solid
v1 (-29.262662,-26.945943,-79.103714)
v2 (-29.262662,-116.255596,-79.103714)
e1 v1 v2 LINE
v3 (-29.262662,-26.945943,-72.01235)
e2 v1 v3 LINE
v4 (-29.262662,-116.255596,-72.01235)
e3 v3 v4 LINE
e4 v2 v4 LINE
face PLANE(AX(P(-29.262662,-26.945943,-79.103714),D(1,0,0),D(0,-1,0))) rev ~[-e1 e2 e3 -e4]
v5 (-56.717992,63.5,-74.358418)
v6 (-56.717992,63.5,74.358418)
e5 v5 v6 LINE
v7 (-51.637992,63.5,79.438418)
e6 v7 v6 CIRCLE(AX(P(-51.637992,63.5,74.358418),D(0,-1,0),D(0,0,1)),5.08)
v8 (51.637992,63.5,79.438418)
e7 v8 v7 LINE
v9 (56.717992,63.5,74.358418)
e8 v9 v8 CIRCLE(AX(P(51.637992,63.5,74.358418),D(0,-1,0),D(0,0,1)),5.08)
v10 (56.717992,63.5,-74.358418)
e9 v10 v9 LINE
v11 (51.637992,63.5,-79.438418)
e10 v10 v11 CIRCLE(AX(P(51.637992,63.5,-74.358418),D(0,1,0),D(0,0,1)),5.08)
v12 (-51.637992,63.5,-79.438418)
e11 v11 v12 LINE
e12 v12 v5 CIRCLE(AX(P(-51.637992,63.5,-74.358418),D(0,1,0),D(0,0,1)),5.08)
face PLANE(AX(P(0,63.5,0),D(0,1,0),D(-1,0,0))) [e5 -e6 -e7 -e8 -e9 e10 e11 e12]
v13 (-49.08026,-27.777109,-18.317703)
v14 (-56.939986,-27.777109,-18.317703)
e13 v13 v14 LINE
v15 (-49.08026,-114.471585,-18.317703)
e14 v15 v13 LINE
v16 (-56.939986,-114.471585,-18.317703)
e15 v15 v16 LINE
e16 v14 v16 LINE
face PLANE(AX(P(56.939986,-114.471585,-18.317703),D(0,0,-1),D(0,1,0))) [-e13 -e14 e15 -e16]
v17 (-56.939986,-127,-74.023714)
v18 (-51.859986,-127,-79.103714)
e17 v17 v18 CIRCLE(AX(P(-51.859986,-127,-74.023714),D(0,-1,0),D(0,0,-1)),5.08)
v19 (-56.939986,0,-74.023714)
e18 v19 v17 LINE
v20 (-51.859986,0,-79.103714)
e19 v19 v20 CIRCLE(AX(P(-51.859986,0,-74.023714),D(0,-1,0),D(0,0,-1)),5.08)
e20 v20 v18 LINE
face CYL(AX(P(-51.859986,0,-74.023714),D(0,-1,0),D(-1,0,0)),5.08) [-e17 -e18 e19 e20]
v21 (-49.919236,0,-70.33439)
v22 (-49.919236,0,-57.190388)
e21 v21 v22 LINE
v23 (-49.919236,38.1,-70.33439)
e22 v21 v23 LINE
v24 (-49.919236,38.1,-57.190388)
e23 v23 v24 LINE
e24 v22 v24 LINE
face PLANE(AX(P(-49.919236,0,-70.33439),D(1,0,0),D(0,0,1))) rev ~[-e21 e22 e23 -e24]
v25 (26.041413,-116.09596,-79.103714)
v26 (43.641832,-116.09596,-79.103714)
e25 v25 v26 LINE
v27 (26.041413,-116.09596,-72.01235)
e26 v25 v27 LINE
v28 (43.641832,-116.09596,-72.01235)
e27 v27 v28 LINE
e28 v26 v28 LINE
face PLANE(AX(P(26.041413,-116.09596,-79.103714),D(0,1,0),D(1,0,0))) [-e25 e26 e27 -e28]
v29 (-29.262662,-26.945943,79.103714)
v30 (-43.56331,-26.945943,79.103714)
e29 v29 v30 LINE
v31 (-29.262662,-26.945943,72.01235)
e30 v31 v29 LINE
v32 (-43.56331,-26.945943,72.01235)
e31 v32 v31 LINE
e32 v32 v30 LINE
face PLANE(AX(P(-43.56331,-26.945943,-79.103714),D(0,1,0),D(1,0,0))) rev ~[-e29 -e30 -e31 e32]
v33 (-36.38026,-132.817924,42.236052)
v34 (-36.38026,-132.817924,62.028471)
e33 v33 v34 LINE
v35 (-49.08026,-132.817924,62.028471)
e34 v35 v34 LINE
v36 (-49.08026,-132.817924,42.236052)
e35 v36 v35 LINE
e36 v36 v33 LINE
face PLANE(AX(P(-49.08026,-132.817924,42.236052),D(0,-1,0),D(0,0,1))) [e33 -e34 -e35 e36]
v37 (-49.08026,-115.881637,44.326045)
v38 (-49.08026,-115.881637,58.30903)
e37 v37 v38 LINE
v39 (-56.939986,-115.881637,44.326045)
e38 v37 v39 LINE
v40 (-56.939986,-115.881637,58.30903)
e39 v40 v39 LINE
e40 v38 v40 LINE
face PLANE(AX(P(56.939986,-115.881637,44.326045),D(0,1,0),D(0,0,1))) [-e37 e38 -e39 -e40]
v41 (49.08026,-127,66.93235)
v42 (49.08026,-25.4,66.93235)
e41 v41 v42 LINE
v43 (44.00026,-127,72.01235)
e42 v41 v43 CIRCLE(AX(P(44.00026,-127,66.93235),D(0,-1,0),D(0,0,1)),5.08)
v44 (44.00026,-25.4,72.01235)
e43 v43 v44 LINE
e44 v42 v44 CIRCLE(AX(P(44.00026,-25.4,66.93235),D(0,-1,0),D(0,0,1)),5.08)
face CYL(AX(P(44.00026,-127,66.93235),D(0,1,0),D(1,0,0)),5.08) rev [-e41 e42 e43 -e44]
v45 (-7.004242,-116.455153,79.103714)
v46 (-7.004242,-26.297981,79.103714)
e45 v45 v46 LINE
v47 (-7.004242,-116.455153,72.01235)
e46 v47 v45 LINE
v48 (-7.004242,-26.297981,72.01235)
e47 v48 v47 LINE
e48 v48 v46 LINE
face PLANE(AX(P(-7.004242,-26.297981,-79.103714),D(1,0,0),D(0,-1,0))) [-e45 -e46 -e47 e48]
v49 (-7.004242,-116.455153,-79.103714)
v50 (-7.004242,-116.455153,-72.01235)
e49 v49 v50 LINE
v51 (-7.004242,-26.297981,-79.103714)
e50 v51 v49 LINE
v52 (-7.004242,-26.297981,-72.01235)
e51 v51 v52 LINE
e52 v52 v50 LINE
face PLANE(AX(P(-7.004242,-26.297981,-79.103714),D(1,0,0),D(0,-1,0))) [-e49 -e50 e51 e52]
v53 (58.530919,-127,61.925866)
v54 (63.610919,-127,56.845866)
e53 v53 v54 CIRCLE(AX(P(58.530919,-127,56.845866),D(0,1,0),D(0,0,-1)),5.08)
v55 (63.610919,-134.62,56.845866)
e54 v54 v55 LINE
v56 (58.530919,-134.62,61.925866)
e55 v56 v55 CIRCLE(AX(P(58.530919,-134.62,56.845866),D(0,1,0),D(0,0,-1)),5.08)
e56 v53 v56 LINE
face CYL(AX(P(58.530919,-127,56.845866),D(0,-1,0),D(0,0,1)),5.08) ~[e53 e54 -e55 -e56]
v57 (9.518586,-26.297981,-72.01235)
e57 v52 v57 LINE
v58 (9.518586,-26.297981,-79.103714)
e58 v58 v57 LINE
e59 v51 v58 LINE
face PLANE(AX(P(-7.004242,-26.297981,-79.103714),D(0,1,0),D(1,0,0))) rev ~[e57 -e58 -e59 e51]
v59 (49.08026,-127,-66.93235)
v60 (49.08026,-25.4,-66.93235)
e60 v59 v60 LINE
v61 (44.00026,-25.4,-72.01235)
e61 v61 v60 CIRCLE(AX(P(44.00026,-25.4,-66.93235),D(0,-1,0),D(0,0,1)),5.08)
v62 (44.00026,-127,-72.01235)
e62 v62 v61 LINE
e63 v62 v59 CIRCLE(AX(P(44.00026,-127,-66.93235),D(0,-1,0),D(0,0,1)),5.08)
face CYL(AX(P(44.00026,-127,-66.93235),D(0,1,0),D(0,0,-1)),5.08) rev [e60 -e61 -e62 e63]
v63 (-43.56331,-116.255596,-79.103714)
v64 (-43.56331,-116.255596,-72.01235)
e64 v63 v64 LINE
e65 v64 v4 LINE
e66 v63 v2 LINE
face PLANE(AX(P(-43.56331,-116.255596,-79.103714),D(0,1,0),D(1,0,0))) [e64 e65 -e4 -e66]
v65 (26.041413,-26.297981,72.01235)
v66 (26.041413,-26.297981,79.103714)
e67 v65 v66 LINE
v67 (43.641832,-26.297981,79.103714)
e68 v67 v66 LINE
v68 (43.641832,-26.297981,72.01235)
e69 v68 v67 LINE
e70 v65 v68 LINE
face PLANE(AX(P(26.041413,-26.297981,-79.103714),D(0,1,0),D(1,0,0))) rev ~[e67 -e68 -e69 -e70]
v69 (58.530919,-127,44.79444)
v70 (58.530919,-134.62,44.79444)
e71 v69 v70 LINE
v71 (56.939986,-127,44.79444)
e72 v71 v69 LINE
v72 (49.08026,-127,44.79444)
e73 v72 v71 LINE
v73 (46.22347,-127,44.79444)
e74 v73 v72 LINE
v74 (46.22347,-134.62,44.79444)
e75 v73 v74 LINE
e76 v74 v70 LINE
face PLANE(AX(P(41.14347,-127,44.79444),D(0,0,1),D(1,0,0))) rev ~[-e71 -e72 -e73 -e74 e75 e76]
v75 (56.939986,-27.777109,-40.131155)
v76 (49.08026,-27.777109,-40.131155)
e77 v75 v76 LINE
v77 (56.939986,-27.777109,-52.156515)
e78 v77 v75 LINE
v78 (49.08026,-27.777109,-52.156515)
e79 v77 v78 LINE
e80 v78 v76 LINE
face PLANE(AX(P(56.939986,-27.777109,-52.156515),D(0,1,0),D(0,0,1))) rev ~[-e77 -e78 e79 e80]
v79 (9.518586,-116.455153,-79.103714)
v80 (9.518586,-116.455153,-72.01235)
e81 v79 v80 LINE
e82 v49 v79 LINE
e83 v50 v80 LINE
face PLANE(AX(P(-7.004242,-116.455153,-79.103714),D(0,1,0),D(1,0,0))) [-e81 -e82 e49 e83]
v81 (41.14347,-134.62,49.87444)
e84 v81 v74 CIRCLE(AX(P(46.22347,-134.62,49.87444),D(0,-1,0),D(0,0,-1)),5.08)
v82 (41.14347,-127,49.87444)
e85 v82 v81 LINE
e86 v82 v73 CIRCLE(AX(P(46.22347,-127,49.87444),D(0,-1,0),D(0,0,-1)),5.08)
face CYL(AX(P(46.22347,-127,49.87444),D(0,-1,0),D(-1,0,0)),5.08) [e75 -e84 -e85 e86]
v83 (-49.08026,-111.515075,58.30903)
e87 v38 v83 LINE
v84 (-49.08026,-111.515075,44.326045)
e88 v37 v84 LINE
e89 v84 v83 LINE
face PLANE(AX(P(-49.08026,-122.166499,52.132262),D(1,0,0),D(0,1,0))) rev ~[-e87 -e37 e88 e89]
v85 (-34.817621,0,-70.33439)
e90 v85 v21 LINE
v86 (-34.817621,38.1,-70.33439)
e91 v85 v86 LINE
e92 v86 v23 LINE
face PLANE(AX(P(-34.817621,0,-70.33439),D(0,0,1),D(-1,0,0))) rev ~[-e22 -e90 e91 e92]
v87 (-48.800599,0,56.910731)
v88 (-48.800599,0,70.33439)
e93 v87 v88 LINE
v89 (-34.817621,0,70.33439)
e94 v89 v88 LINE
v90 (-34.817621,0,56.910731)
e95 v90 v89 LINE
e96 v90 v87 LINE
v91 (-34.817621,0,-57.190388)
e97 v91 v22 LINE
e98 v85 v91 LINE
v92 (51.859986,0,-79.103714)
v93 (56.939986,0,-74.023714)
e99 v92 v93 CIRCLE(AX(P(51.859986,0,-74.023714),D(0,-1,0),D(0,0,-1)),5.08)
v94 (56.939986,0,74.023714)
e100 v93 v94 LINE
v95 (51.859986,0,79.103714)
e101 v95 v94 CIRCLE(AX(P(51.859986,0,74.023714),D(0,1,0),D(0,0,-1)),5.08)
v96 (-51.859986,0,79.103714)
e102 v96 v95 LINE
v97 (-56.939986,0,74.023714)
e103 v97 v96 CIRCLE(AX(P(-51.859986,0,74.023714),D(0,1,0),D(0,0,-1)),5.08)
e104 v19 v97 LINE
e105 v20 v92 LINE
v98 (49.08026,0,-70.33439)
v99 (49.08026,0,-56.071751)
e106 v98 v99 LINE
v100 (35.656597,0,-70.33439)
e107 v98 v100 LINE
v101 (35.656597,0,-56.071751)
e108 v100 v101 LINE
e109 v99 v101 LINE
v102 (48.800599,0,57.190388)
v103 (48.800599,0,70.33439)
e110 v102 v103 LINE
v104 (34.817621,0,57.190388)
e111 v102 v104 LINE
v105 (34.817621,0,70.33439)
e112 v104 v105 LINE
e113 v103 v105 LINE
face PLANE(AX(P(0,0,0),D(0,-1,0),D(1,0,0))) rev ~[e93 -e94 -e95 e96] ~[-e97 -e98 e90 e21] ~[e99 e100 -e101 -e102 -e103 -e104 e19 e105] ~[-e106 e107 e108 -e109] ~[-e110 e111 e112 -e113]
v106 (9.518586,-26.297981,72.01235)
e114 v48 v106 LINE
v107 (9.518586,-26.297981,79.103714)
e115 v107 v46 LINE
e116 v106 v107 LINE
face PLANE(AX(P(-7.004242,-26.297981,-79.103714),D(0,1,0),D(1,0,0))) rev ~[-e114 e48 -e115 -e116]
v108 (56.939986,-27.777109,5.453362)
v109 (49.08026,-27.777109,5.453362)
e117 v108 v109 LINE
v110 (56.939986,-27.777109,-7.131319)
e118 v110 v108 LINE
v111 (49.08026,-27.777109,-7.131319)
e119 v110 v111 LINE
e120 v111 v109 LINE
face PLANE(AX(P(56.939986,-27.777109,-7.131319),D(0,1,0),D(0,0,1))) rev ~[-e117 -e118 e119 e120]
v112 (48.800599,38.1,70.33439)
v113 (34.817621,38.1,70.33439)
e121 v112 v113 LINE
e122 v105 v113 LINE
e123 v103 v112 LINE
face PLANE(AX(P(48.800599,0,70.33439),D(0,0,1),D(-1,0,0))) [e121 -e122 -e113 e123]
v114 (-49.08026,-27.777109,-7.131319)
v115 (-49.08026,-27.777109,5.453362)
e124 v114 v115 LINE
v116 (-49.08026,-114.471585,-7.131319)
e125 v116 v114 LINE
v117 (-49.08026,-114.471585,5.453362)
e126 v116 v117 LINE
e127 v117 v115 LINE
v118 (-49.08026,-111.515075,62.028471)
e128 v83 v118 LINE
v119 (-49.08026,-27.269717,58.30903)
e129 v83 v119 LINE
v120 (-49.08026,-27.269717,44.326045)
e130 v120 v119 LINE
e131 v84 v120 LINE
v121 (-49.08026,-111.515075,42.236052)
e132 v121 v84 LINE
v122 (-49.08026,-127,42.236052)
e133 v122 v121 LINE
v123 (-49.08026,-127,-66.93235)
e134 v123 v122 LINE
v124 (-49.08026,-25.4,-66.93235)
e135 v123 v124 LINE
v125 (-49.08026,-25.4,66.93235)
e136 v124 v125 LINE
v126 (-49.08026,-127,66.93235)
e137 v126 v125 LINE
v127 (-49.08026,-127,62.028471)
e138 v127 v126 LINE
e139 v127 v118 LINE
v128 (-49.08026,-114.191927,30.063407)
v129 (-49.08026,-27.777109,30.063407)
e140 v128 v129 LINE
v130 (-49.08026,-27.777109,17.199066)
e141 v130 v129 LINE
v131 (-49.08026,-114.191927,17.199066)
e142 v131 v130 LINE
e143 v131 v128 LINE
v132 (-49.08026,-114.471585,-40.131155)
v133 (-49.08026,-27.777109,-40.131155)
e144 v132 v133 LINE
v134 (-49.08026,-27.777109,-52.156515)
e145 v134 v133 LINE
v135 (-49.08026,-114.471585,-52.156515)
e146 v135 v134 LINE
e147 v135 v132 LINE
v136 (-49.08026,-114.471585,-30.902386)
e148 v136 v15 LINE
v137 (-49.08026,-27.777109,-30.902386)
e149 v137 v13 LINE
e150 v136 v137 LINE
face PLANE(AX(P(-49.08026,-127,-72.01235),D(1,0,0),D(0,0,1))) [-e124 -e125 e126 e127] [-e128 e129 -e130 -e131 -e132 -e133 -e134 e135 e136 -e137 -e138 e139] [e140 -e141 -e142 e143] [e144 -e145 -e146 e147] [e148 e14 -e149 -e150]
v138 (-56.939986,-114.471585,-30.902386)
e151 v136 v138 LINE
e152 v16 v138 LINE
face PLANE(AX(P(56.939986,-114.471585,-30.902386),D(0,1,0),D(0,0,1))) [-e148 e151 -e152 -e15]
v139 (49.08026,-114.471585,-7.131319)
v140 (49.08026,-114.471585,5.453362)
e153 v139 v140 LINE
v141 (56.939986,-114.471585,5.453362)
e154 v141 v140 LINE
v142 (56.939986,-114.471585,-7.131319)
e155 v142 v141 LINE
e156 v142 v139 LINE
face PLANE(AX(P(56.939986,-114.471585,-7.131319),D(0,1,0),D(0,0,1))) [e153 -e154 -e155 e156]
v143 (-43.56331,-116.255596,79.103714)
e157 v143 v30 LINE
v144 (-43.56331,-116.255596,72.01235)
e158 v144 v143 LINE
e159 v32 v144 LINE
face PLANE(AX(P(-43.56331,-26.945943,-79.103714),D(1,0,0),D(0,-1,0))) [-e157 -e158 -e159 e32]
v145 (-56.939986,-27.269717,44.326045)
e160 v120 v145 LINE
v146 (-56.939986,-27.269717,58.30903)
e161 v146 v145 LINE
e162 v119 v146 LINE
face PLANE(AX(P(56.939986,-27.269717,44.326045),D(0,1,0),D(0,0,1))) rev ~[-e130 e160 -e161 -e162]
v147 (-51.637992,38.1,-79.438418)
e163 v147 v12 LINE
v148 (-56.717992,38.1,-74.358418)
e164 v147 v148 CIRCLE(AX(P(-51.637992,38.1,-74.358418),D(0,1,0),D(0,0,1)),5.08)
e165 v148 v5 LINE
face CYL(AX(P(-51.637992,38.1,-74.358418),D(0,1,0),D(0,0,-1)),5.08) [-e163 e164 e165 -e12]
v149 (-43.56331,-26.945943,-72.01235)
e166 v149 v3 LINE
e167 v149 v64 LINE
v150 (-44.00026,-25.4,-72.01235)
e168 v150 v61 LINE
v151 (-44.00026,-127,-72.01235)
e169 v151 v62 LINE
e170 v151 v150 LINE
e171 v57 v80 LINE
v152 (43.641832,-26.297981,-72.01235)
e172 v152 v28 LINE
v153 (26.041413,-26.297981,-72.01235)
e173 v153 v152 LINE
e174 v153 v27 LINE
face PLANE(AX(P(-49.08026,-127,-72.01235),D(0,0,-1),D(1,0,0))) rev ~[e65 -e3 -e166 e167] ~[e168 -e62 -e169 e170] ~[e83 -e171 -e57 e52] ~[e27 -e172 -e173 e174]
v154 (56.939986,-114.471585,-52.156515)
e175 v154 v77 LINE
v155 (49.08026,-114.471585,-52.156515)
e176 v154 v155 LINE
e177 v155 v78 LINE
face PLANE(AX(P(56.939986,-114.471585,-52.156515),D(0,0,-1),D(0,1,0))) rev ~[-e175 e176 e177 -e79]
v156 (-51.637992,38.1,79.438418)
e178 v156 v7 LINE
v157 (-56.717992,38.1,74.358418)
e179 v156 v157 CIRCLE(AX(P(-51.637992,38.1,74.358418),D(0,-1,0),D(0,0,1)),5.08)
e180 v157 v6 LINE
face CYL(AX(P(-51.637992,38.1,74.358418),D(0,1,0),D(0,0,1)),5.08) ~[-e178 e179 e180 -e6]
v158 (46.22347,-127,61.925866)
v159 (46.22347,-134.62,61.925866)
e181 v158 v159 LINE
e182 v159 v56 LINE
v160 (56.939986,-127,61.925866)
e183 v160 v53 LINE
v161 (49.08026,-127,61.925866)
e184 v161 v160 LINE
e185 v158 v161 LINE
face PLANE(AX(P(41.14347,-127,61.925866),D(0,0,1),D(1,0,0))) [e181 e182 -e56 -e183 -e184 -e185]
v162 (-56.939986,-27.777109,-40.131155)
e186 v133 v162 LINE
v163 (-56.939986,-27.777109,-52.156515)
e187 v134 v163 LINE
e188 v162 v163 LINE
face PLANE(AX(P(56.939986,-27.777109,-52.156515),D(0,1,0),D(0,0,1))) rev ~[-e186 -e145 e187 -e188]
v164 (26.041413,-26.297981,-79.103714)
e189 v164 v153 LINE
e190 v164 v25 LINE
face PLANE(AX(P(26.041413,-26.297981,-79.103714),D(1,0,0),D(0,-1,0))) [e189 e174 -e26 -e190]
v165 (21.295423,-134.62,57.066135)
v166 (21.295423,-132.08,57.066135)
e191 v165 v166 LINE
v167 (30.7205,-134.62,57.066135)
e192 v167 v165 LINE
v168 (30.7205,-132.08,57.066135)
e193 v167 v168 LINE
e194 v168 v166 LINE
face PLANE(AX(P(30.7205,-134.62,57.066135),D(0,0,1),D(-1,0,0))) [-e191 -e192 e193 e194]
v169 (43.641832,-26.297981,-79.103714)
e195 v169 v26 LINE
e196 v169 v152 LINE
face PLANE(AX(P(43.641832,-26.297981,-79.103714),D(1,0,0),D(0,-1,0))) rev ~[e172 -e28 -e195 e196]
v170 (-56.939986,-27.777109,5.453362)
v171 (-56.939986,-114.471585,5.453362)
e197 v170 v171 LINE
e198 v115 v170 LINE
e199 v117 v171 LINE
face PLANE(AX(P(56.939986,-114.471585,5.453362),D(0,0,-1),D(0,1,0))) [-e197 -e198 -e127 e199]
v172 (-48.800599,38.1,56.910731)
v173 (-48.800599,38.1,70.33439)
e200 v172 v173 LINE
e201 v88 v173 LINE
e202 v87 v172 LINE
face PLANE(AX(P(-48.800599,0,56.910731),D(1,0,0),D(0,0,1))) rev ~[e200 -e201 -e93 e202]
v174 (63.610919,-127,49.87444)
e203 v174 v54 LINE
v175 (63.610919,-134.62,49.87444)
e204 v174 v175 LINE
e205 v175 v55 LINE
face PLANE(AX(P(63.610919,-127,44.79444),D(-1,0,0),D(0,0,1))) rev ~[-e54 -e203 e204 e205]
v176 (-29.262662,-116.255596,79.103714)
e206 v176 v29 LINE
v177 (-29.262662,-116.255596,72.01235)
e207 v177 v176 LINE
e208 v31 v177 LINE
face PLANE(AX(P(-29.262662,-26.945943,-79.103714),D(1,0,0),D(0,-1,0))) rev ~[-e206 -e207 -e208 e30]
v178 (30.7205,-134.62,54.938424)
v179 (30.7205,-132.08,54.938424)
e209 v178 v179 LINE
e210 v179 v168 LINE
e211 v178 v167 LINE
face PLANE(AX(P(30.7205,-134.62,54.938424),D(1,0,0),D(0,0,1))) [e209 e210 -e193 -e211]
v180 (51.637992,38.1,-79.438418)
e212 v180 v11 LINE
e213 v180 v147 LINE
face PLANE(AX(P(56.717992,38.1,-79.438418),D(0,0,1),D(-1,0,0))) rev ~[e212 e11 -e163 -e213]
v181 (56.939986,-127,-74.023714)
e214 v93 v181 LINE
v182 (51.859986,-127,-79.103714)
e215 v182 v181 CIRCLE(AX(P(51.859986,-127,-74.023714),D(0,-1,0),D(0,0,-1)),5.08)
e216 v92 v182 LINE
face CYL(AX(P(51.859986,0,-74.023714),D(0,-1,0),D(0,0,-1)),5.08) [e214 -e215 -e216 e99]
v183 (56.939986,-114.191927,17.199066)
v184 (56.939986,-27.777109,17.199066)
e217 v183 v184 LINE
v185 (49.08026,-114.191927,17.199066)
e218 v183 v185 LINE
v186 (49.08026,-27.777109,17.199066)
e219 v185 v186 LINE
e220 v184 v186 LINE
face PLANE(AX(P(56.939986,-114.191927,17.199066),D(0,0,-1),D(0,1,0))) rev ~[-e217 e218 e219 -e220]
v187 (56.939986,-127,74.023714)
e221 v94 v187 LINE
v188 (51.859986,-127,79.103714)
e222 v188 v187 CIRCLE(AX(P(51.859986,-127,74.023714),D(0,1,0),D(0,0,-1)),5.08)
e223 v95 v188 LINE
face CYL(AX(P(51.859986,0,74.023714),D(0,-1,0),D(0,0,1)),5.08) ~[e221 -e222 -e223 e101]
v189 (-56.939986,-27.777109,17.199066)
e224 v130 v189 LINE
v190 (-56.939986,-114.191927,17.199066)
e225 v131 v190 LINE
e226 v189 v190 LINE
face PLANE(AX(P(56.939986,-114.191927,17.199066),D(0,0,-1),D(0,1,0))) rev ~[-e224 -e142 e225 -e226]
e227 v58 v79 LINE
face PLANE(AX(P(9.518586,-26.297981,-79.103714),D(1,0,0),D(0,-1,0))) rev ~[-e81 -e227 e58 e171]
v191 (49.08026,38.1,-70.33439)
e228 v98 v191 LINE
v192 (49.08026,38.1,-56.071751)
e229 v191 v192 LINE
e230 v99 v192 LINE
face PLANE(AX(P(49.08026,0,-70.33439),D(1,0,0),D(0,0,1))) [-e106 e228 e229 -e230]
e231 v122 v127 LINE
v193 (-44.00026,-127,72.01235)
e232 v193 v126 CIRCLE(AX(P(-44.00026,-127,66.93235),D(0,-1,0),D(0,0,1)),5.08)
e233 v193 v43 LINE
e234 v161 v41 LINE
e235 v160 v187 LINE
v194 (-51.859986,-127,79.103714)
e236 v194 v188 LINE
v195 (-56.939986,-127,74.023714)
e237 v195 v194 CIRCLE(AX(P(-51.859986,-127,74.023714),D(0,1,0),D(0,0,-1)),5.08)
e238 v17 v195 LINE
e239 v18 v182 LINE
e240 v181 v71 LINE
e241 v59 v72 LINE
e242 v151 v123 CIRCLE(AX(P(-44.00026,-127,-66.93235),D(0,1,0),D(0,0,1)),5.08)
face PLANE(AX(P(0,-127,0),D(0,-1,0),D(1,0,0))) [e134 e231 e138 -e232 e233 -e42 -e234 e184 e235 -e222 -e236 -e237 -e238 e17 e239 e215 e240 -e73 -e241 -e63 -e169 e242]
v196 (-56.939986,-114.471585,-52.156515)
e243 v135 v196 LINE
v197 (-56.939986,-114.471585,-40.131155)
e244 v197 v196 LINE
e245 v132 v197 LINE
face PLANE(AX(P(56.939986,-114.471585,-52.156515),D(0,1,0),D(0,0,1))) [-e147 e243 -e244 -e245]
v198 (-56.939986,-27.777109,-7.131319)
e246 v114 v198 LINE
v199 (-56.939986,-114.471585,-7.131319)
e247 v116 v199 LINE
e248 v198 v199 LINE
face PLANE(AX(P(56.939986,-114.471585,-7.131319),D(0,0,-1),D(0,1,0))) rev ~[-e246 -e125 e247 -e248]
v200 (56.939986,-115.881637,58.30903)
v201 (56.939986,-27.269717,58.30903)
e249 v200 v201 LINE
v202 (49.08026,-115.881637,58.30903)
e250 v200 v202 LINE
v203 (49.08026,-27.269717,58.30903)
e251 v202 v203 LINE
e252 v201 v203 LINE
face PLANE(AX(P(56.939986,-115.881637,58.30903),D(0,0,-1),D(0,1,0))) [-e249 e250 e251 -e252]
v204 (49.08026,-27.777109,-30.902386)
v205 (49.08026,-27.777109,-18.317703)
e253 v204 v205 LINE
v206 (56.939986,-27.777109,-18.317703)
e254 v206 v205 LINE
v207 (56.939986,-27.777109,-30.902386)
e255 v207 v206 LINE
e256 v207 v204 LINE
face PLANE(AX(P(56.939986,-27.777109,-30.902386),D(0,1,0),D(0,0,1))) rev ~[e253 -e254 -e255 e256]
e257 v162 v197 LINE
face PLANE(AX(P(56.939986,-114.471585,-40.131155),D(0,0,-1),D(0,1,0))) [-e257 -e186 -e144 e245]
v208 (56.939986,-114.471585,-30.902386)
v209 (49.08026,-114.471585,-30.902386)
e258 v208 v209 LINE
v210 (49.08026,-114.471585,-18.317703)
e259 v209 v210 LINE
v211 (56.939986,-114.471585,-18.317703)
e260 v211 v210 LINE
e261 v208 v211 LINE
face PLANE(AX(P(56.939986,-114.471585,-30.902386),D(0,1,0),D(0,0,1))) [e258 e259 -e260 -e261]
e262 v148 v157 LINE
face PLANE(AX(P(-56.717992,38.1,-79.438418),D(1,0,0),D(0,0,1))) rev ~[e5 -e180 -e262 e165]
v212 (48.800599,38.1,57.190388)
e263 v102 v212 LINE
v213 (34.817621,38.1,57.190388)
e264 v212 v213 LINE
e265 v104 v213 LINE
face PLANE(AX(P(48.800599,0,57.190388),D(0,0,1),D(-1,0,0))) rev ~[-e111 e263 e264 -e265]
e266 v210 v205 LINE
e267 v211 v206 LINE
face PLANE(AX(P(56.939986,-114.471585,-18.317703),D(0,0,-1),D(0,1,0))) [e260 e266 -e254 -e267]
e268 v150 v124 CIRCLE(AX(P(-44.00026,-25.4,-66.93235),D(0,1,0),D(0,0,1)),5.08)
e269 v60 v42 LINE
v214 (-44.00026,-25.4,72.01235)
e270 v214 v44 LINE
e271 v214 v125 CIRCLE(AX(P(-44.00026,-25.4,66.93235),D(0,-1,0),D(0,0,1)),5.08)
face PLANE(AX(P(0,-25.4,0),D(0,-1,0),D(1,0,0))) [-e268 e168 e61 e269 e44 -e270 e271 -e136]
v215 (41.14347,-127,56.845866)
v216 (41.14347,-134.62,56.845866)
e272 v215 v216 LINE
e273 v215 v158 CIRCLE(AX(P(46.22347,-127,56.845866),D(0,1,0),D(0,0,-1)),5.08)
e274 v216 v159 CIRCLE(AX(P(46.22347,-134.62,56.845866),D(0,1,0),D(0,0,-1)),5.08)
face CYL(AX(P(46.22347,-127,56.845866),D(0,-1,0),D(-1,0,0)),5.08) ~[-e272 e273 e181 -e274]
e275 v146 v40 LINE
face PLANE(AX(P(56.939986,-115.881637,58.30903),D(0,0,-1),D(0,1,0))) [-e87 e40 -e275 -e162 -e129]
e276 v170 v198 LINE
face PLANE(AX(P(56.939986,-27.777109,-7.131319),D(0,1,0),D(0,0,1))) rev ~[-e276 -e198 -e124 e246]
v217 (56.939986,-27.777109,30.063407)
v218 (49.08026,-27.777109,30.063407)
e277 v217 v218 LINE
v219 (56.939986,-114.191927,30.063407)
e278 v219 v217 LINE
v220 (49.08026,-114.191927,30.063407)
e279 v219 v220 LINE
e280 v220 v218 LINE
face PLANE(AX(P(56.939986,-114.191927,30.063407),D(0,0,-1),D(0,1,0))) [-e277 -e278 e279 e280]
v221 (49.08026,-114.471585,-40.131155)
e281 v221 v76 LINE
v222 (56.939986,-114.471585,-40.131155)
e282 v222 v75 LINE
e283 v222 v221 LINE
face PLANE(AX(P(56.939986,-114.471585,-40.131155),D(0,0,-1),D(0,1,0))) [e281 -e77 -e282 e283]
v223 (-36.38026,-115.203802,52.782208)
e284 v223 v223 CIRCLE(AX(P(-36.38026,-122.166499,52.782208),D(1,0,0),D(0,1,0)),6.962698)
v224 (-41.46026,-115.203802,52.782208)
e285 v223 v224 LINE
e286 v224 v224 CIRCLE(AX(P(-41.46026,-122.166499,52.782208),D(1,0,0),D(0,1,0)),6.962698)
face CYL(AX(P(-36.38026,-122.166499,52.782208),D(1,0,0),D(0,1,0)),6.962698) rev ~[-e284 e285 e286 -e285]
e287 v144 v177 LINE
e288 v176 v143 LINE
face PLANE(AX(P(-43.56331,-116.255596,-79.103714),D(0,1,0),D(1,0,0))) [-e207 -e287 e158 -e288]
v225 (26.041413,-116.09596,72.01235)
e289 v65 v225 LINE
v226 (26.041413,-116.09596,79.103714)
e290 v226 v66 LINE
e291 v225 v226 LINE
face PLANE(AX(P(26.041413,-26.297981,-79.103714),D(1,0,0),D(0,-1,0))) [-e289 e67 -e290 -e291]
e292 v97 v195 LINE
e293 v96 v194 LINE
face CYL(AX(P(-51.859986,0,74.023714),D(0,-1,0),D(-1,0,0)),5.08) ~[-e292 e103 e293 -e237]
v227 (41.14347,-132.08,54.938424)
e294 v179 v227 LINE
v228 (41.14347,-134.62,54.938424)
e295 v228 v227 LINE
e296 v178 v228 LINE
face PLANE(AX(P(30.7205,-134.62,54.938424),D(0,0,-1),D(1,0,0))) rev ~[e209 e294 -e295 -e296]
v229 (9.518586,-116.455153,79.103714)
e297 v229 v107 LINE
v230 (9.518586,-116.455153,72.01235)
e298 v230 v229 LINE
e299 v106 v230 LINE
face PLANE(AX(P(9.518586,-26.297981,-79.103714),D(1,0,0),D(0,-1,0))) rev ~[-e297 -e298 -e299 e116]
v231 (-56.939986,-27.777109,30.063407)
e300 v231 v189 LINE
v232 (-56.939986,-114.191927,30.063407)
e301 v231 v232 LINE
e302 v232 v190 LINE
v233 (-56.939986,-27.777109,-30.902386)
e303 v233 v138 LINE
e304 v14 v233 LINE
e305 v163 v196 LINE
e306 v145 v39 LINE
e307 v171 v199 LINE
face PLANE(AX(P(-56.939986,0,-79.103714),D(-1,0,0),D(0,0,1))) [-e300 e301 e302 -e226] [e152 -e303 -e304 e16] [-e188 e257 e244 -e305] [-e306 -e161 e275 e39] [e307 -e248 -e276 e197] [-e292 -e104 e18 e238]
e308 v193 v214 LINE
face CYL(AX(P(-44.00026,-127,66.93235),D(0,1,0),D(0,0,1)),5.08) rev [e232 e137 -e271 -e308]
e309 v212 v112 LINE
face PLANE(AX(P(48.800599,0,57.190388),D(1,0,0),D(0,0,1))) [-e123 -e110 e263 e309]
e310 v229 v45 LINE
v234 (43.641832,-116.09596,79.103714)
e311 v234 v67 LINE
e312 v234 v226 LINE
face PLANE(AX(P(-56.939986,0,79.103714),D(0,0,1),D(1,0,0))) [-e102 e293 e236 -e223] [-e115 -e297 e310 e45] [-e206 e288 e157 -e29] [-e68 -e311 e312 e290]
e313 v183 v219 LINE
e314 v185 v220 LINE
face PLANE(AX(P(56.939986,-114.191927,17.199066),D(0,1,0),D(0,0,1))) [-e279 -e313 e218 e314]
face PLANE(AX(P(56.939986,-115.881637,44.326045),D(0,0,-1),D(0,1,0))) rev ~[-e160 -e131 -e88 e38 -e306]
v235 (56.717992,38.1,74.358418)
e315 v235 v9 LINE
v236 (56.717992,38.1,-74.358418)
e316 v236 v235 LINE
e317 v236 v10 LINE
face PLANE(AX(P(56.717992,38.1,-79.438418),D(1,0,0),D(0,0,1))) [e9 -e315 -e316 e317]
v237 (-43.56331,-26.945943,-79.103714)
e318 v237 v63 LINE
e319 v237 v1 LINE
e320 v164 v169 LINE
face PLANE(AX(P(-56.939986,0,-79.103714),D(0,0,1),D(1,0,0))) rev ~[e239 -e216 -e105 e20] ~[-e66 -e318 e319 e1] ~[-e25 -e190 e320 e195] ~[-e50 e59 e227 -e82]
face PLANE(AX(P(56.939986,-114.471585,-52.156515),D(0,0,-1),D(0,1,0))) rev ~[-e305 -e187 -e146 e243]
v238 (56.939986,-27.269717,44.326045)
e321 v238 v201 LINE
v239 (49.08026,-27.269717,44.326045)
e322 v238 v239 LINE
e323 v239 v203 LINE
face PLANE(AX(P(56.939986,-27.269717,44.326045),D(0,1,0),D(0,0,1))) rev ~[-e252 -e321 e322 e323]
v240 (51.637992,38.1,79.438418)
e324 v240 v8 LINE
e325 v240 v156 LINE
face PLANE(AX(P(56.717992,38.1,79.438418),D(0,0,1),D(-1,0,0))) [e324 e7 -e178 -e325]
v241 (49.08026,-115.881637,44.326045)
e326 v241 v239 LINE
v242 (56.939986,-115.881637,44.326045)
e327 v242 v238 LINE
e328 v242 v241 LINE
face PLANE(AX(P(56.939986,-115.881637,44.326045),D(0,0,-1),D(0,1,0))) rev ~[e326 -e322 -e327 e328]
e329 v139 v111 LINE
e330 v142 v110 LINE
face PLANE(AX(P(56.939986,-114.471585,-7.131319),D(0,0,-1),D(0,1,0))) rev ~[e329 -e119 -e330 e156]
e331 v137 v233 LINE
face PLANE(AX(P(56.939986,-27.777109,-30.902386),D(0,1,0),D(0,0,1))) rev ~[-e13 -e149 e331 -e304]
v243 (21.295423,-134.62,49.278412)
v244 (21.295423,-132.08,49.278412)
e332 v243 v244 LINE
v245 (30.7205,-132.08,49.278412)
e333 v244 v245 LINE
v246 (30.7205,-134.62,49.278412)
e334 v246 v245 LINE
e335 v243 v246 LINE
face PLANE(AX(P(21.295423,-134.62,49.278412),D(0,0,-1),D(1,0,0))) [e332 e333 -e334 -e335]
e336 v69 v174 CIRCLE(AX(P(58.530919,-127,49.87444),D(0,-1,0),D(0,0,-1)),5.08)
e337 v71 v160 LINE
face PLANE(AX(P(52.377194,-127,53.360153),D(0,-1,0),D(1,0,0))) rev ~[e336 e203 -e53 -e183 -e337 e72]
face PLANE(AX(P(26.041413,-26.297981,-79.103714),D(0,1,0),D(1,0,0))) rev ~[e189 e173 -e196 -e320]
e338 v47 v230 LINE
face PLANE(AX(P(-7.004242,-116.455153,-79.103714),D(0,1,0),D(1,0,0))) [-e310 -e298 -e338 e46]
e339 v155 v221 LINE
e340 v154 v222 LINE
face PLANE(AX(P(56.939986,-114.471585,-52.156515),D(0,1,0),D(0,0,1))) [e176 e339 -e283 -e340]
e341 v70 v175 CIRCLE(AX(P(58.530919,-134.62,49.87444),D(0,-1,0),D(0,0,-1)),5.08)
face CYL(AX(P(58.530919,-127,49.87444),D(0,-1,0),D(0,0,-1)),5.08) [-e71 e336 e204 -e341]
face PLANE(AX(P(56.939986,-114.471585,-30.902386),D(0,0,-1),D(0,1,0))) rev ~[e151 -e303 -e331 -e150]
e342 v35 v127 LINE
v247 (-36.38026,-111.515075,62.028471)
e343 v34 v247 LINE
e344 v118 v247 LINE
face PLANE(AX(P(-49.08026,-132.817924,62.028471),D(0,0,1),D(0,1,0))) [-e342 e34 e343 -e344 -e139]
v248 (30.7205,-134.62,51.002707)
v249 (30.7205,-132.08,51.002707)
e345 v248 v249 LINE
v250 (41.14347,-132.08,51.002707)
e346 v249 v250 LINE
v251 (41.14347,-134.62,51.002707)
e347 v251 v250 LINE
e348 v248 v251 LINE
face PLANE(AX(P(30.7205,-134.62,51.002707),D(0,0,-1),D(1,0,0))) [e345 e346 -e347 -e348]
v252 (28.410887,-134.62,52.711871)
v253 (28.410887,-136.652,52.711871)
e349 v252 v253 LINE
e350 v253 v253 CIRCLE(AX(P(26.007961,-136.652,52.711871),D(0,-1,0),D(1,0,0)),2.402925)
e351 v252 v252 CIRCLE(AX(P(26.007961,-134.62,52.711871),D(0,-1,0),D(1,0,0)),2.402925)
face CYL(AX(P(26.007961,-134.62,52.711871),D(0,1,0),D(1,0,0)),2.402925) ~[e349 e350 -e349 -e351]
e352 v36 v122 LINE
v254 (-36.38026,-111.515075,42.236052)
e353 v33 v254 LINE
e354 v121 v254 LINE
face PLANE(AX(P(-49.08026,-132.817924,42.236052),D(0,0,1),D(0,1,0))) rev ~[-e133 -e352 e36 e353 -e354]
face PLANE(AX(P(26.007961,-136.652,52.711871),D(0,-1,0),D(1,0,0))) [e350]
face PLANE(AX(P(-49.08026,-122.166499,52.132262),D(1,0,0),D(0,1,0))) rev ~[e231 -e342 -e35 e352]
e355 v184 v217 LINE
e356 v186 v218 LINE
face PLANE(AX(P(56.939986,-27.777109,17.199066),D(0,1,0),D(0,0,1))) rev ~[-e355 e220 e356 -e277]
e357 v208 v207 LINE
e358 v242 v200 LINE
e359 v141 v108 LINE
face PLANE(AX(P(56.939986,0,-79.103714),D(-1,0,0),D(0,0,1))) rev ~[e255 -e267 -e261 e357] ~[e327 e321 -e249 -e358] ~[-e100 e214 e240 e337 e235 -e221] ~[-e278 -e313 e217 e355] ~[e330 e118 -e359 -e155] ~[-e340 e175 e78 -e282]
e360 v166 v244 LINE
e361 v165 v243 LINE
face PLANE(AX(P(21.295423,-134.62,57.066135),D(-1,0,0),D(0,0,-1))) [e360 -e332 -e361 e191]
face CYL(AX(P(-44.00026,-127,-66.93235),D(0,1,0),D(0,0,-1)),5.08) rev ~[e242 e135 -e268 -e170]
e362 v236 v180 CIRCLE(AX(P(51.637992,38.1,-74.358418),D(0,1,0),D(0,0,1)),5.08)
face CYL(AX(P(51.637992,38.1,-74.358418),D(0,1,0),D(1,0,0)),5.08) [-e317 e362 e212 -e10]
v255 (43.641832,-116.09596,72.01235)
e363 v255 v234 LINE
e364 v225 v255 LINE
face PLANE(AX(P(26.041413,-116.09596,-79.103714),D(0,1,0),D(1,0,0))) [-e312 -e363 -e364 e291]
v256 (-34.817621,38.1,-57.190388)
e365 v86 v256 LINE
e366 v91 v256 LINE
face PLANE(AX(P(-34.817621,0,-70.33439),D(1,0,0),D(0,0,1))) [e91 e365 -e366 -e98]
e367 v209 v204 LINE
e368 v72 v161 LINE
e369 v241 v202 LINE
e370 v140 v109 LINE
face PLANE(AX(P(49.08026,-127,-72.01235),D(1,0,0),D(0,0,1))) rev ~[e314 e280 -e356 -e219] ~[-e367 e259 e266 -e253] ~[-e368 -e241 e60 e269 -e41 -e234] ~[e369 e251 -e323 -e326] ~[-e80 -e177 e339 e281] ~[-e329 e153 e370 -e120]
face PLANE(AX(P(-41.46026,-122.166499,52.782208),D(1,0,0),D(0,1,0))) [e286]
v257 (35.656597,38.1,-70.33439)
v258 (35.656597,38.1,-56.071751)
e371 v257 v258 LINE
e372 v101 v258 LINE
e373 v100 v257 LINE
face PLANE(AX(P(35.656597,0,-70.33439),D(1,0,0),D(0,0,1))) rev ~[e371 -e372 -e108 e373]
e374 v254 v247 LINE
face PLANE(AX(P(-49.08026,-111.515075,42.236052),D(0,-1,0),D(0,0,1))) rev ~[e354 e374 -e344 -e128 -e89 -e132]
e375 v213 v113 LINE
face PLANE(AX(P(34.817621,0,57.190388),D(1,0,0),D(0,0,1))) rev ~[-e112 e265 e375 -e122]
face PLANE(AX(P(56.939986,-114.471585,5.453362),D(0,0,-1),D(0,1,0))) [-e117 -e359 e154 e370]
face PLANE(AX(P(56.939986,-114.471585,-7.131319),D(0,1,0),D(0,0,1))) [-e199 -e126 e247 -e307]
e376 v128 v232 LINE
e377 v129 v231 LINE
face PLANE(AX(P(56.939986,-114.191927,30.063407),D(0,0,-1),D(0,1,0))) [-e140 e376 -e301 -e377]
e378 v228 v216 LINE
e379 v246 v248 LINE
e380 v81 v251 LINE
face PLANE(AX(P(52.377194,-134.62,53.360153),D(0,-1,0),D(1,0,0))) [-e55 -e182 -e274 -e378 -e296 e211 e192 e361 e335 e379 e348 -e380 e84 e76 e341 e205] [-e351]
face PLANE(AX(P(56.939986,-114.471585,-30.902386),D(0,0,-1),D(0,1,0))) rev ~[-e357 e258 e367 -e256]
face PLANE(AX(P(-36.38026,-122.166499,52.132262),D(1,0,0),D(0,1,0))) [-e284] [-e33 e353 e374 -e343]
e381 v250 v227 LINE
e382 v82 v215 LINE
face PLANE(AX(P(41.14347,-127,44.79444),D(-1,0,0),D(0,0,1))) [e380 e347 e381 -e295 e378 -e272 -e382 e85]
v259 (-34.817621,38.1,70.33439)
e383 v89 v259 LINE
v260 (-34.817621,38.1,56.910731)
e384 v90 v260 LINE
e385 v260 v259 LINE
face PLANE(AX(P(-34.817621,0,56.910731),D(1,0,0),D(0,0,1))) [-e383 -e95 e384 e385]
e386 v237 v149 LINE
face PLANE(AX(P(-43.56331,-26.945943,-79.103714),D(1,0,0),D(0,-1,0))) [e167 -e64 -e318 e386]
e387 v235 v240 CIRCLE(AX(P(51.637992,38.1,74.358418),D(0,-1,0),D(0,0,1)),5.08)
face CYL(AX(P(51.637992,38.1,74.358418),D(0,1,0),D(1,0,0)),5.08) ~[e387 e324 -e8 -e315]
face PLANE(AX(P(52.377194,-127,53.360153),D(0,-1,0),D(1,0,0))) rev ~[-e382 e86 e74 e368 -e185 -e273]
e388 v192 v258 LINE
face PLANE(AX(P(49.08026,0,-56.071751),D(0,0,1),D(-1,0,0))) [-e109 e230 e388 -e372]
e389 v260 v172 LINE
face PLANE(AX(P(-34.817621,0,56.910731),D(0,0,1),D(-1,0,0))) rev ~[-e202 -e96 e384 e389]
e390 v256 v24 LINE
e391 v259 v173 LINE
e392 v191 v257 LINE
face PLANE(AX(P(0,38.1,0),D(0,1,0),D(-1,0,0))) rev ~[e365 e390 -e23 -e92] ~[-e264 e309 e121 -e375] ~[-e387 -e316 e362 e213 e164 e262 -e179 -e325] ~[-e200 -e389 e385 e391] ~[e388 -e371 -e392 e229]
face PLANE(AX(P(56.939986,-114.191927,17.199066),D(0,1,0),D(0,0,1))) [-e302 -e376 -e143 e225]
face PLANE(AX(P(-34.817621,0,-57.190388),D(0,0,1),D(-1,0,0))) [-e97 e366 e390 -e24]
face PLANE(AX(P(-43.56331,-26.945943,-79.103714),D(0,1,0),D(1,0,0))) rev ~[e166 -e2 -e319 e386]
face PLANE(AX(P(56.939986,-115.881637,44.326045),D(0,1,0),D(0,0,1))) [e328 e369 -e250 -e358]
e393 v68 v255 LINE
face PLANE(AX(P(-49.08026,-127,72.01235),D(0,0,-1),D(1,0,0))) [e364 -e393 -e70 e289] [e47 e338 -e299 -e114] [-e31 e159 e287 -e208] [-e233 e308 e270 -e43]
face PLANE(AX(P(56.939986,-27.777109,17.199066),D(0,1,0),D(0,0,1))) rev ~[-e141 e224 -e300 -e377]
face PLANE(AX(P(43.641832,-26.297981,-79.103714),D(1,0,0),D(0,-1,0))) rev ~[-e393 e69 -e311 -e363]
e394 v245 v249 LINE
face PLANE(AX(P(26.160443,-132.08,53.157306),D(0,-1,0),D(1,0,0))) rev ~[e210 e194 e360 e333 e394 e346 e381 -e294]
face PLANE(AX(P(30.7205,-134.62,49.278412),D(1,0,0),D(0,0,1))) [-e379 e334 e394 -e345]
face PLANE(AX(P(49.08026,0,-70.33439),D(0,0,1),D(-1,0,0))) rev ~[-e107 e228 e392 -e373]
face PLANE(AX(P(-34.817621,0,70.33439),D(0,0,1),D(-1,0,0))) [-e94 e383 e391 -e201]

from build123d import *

# Parameters (mm, degrees)
F0_W      = 113.8799723737
F0_H      = 158.2074281148
F1_DEPTH  = 127
F2_W      = 98.160520196
F2_H      = 144.0246999264
F3_DEPTH  = 101.6
F4_W      = 14.300648123
F4_H      = 89.3096532673
F5_DEPTH  = 158.2084281148
F6_W      = 16.5228282567
F6_H      = 90.1571717113
F7_DEPTH  = 158.2084281148
F8_W      = 17.6004189998
F8_H      = 89.7979792207
F9_DEPTH  = 158.2084281148
F10_W     = 88.6119194329
F10_H     = 13.9829851687
F11_DEPTH = 113.8809723737
F12_W     = 86.4148177207
F12_H     = 12.8643419594
F12_W_2   = 86.6944752634
F12_H_2   = 12.5846816227
F12_H_3   = 12.584682554
F12_H_4   = 12.025360018
F13_DEPTH = 113.8809723737
F14_R     = 5.08
F15_W     = 13.9829777181
F15_H     = 13.1440013647
F15_H_2   = 13.4236589074
F15_W_2   = 15.1016153395
F15_W_3   = 13.4236626327
F15_H_3   = 14.2626389861
F16_DEPTH = 38.1
F17_W     = 113.4359836578
F17_H     = 158.8768362999
F18_DEPTH = 25.4
F19_R     = 5.08
F20_W     = 22.4674493074
F20_H     = 17.1314254403
F21_DEPTH = 7.62
F22_R     = 5.08
F23_R     = 1.8874921425
F23_W     = 10.422969237
F23_H     = 3.9357170463
F23_W_2   = 1.3796649873
F24_DEPTH = 2.54
F25_R     = 2.4029253483
F26_DEPTH = 2.032
F27_W     = 21.3028490543
F27_H     = 19.792418927
F28_DEPTH = 12.7
F29_R     = 6.9626979342
F30_DEPTH = 5.08


with BuildPart() as f1:
    # F0 (on Front) → F1 (new body)
    with BuildSketch(Plane.XZ):
        Rectangle(F0_W, F0_H)
    extrude(amount=F1_DEPTH)

    # F2 (on face) → F3 (cut)
    with BuildSketch(Plane.XZ.offset(127)):
        Rectangle(F2_W, F2_H)
    extrude(amount=-F3_DEPTH, mode=Mode.SUBTRACT)

    # F4 (on face) → F5 (cut, through all)
    with BuildSketch(Plane(origin=(0, 0, -79.1037140574), x_dir=(1, 0, 0), z_dir=(0, 0, -1))):
        with Locations((-36.4129859954, 71.6007696465)):
            Rectangle(F4_W, F4_H)
    extrude(amount=-F5_DEPTH, mode=Mode.SUBTRACT)

    # F6 (on face) → F7 (cut, through all)
    with BuildSketch(Plane(origin=(0, 0, -79.1037140574), x_dir=(1, 0, 0), z_dir=(0, 0, -1))):
        with Locations((1.257171738, 71.3765667751)):
            Rectangle(F6_W, F6_H)
    extrude(amount=-F7_DEPTH, mode=Mode.SUBTRACT)

    # F8 (on face) → F9 (cut, through all)
    with BuildSketch(Plane(origin=(0, 0, -79.1037140574), x_dir=(1, 0, 0), z_dir=(0, 0, -1))):
        with Locations((34.8416222259, 71.1969705299)):
            Rectangle(F8_W, F8_H)
    extrude(amount=-F9_DEPTH, mode=Mode.SUBTRACT)

    # F10 (on face) → F11 (cut, through all)
    with BuildSketch(Plane.YZ.offset(56.9399861869)):
        with Locations((-71.5756770223, 51.3175372034)):
            Rectangle(F10_W, F10_H)
    extrude(amount=-F11_DEPTH, mode=Mode.SUBTRACT)

    # F12 (on face) → F13 (cut, through all)
    with BuildSketch(Plane.YZ.offset(56.9399861869)):
        with Locations((-70.9845181555, 23.6312365159)):
            Rectangle(F12_W, F12_H)
        with Locations((-71.1243469268, -0.8389786817)):
            Rectangle(F12_W_2, F12_H_2)
        with Locations((-71.1243469268, -24.6100444347)):
            Rectangle(F12_W_2, F12_H_3)
        with Locations((-71.1243469268, -46.1438354105)):
            Rectangle(F12_W_2, F12_H_4)
    extrude(amount=-F13_DEPTH, mode=Mode.SUBTRACT)

    # F14
    f14_edges = [f1.edges().sort_by_distance(p)[0] for p in [
        (56.939986, -63.5, -79.103714),
        (-56.939986, -63.5, -79.103714),
        (56.939986, -63.5, 79.103714),
        (-56.939986, -63.5, 79.103714),
        (49.08026, -76.2, 72.01235),
        (49.08026, -76.2, -72.01235),
        (-49.08026, -76.2, -72.01235),
        (-49.08026, -76.2, 72.01235),
    ]]
    fillet(f14_edges, radius=F14_R)

    # F15 (on face) → F16 (join)
    with BuildSketch(Plane(origin=(0, 0, 0), x_dir=(-1, 0, 0), z_dir=(0, 1, 0))):
        with Locations((-41.8091099709, 63.7623891234)):
            Rectangle(F15_W, F15_H)
        with Locations((41.8091099709, 63.6225603521)):
            Rectangle(F15_W, F15_H_2)
        with Locations((42.3684287816, -63.7623891234)):
            Rectangle(F15_W_2, F15_H)
        with Locations((-42.3684287816, -63.2030703127)):
            Rectangle(F15_W_3, F15_H_3)
    extrude(amount=F16_DEPTH)

    # F17 (on face) → F18 (join)
    with BuildSketch(Plane(origin=(0, 38.1, 0), x_dir=(-1, 0, 0), z_dir=(0, 1, 0))):
        Rectangle(F17_W, F17_H)
    extrude(amount=F18_DEPTH)

    # F19
    f19_edges = [f1.edges().sort_by_distance(p)[0] for p in [
        (-56.717992, 50.8, -79.438418),
        (56.717992, 50.8, -79.438418),
        (56.717992, 50.8, 79.438418),
        (-56.717992, 50.8, 79.438418),
    ]]
    fillet(f19_edges, radius=F19_R)

    # F20 (on face) → F21 (join)
    with BuildSketch(Plane.XZ.offset(127)):
        with Locations((52.3771941662, 53.3601529896)):
            Rectangle(F20_W, F20_H)
    extrude(amount=F21_DEPTH)

    # F22
    f22_edges = [f1.edges().sort_by_distance(p)[0] for p in [
        (63.610919, -130.81, 61.925866),
        (63.610919, -130.81, 44.79444),
        (41.14347, -130.81, 61.925866),
        (41.14347, -130.81, 44.79444),
    ]]
    fillet(f22_edges, radius=F22_R)

    # F23 (on face) → F24 (join)
    with BuildSketch(Plane.XZ.offset(134.62)):
        Polygon((29.3408352882, 51.0027073324), (29.3408352882, 54.9384243786), (30.7205002755, 54.9384243786), (30.7205002755, 57.0661351085), (21.2954226881, 57.0661351085), (21.2954226881, 49.2784120142), (30.7205002755, 49.2784120142), (30.7205002755, 51.0027073324), align=None)
        with Locations((25.4014916718, 52.5658614933)):
            Circle(F23_R, mode=Mode.SUBTRACT)
        with Locations((35.931984894, 52.9705658555)):
            Rectangle(F23_W, F23_H)
        with Locations((25.4014916718, 52.5658614933)):
            Circle(F23_R)
        with Locations((30.0306677818, 52.9705658555)):
            Rectangle(F23_W_2, F23_H)
    extrude(amount=-F24_DEPTH)

    # F25 (on face) → F26 (join)
    with BuildSketch(Plane.XZ.offset(134.62)):
        with Locations((26.0079614818, 52.7118705213)):
            Circle(F25_R)
    extrude(amount=F26_DEPTH)

    # F27 (on face) → F28 (join)
    with BuildSketch(Plane.YZ.offset(-49.080260098)):
        with Locations((-122.1664994955, 52.132261917)):
            Rectangle(F27_W, F27_H)
    extrude(amount=F28_DEPTH)

    # F29 (on face) → F30 (cut)
    with BuildSketch(Plane.YZ.offset(-36.380260098)):
        with Locations((-122.1664994955, 52.7822077274)):
            Circle(F29_R)
    extrude(amount=-F30_DEPTH, mode=Mode.SUBTRACT)


solid = f1.part
